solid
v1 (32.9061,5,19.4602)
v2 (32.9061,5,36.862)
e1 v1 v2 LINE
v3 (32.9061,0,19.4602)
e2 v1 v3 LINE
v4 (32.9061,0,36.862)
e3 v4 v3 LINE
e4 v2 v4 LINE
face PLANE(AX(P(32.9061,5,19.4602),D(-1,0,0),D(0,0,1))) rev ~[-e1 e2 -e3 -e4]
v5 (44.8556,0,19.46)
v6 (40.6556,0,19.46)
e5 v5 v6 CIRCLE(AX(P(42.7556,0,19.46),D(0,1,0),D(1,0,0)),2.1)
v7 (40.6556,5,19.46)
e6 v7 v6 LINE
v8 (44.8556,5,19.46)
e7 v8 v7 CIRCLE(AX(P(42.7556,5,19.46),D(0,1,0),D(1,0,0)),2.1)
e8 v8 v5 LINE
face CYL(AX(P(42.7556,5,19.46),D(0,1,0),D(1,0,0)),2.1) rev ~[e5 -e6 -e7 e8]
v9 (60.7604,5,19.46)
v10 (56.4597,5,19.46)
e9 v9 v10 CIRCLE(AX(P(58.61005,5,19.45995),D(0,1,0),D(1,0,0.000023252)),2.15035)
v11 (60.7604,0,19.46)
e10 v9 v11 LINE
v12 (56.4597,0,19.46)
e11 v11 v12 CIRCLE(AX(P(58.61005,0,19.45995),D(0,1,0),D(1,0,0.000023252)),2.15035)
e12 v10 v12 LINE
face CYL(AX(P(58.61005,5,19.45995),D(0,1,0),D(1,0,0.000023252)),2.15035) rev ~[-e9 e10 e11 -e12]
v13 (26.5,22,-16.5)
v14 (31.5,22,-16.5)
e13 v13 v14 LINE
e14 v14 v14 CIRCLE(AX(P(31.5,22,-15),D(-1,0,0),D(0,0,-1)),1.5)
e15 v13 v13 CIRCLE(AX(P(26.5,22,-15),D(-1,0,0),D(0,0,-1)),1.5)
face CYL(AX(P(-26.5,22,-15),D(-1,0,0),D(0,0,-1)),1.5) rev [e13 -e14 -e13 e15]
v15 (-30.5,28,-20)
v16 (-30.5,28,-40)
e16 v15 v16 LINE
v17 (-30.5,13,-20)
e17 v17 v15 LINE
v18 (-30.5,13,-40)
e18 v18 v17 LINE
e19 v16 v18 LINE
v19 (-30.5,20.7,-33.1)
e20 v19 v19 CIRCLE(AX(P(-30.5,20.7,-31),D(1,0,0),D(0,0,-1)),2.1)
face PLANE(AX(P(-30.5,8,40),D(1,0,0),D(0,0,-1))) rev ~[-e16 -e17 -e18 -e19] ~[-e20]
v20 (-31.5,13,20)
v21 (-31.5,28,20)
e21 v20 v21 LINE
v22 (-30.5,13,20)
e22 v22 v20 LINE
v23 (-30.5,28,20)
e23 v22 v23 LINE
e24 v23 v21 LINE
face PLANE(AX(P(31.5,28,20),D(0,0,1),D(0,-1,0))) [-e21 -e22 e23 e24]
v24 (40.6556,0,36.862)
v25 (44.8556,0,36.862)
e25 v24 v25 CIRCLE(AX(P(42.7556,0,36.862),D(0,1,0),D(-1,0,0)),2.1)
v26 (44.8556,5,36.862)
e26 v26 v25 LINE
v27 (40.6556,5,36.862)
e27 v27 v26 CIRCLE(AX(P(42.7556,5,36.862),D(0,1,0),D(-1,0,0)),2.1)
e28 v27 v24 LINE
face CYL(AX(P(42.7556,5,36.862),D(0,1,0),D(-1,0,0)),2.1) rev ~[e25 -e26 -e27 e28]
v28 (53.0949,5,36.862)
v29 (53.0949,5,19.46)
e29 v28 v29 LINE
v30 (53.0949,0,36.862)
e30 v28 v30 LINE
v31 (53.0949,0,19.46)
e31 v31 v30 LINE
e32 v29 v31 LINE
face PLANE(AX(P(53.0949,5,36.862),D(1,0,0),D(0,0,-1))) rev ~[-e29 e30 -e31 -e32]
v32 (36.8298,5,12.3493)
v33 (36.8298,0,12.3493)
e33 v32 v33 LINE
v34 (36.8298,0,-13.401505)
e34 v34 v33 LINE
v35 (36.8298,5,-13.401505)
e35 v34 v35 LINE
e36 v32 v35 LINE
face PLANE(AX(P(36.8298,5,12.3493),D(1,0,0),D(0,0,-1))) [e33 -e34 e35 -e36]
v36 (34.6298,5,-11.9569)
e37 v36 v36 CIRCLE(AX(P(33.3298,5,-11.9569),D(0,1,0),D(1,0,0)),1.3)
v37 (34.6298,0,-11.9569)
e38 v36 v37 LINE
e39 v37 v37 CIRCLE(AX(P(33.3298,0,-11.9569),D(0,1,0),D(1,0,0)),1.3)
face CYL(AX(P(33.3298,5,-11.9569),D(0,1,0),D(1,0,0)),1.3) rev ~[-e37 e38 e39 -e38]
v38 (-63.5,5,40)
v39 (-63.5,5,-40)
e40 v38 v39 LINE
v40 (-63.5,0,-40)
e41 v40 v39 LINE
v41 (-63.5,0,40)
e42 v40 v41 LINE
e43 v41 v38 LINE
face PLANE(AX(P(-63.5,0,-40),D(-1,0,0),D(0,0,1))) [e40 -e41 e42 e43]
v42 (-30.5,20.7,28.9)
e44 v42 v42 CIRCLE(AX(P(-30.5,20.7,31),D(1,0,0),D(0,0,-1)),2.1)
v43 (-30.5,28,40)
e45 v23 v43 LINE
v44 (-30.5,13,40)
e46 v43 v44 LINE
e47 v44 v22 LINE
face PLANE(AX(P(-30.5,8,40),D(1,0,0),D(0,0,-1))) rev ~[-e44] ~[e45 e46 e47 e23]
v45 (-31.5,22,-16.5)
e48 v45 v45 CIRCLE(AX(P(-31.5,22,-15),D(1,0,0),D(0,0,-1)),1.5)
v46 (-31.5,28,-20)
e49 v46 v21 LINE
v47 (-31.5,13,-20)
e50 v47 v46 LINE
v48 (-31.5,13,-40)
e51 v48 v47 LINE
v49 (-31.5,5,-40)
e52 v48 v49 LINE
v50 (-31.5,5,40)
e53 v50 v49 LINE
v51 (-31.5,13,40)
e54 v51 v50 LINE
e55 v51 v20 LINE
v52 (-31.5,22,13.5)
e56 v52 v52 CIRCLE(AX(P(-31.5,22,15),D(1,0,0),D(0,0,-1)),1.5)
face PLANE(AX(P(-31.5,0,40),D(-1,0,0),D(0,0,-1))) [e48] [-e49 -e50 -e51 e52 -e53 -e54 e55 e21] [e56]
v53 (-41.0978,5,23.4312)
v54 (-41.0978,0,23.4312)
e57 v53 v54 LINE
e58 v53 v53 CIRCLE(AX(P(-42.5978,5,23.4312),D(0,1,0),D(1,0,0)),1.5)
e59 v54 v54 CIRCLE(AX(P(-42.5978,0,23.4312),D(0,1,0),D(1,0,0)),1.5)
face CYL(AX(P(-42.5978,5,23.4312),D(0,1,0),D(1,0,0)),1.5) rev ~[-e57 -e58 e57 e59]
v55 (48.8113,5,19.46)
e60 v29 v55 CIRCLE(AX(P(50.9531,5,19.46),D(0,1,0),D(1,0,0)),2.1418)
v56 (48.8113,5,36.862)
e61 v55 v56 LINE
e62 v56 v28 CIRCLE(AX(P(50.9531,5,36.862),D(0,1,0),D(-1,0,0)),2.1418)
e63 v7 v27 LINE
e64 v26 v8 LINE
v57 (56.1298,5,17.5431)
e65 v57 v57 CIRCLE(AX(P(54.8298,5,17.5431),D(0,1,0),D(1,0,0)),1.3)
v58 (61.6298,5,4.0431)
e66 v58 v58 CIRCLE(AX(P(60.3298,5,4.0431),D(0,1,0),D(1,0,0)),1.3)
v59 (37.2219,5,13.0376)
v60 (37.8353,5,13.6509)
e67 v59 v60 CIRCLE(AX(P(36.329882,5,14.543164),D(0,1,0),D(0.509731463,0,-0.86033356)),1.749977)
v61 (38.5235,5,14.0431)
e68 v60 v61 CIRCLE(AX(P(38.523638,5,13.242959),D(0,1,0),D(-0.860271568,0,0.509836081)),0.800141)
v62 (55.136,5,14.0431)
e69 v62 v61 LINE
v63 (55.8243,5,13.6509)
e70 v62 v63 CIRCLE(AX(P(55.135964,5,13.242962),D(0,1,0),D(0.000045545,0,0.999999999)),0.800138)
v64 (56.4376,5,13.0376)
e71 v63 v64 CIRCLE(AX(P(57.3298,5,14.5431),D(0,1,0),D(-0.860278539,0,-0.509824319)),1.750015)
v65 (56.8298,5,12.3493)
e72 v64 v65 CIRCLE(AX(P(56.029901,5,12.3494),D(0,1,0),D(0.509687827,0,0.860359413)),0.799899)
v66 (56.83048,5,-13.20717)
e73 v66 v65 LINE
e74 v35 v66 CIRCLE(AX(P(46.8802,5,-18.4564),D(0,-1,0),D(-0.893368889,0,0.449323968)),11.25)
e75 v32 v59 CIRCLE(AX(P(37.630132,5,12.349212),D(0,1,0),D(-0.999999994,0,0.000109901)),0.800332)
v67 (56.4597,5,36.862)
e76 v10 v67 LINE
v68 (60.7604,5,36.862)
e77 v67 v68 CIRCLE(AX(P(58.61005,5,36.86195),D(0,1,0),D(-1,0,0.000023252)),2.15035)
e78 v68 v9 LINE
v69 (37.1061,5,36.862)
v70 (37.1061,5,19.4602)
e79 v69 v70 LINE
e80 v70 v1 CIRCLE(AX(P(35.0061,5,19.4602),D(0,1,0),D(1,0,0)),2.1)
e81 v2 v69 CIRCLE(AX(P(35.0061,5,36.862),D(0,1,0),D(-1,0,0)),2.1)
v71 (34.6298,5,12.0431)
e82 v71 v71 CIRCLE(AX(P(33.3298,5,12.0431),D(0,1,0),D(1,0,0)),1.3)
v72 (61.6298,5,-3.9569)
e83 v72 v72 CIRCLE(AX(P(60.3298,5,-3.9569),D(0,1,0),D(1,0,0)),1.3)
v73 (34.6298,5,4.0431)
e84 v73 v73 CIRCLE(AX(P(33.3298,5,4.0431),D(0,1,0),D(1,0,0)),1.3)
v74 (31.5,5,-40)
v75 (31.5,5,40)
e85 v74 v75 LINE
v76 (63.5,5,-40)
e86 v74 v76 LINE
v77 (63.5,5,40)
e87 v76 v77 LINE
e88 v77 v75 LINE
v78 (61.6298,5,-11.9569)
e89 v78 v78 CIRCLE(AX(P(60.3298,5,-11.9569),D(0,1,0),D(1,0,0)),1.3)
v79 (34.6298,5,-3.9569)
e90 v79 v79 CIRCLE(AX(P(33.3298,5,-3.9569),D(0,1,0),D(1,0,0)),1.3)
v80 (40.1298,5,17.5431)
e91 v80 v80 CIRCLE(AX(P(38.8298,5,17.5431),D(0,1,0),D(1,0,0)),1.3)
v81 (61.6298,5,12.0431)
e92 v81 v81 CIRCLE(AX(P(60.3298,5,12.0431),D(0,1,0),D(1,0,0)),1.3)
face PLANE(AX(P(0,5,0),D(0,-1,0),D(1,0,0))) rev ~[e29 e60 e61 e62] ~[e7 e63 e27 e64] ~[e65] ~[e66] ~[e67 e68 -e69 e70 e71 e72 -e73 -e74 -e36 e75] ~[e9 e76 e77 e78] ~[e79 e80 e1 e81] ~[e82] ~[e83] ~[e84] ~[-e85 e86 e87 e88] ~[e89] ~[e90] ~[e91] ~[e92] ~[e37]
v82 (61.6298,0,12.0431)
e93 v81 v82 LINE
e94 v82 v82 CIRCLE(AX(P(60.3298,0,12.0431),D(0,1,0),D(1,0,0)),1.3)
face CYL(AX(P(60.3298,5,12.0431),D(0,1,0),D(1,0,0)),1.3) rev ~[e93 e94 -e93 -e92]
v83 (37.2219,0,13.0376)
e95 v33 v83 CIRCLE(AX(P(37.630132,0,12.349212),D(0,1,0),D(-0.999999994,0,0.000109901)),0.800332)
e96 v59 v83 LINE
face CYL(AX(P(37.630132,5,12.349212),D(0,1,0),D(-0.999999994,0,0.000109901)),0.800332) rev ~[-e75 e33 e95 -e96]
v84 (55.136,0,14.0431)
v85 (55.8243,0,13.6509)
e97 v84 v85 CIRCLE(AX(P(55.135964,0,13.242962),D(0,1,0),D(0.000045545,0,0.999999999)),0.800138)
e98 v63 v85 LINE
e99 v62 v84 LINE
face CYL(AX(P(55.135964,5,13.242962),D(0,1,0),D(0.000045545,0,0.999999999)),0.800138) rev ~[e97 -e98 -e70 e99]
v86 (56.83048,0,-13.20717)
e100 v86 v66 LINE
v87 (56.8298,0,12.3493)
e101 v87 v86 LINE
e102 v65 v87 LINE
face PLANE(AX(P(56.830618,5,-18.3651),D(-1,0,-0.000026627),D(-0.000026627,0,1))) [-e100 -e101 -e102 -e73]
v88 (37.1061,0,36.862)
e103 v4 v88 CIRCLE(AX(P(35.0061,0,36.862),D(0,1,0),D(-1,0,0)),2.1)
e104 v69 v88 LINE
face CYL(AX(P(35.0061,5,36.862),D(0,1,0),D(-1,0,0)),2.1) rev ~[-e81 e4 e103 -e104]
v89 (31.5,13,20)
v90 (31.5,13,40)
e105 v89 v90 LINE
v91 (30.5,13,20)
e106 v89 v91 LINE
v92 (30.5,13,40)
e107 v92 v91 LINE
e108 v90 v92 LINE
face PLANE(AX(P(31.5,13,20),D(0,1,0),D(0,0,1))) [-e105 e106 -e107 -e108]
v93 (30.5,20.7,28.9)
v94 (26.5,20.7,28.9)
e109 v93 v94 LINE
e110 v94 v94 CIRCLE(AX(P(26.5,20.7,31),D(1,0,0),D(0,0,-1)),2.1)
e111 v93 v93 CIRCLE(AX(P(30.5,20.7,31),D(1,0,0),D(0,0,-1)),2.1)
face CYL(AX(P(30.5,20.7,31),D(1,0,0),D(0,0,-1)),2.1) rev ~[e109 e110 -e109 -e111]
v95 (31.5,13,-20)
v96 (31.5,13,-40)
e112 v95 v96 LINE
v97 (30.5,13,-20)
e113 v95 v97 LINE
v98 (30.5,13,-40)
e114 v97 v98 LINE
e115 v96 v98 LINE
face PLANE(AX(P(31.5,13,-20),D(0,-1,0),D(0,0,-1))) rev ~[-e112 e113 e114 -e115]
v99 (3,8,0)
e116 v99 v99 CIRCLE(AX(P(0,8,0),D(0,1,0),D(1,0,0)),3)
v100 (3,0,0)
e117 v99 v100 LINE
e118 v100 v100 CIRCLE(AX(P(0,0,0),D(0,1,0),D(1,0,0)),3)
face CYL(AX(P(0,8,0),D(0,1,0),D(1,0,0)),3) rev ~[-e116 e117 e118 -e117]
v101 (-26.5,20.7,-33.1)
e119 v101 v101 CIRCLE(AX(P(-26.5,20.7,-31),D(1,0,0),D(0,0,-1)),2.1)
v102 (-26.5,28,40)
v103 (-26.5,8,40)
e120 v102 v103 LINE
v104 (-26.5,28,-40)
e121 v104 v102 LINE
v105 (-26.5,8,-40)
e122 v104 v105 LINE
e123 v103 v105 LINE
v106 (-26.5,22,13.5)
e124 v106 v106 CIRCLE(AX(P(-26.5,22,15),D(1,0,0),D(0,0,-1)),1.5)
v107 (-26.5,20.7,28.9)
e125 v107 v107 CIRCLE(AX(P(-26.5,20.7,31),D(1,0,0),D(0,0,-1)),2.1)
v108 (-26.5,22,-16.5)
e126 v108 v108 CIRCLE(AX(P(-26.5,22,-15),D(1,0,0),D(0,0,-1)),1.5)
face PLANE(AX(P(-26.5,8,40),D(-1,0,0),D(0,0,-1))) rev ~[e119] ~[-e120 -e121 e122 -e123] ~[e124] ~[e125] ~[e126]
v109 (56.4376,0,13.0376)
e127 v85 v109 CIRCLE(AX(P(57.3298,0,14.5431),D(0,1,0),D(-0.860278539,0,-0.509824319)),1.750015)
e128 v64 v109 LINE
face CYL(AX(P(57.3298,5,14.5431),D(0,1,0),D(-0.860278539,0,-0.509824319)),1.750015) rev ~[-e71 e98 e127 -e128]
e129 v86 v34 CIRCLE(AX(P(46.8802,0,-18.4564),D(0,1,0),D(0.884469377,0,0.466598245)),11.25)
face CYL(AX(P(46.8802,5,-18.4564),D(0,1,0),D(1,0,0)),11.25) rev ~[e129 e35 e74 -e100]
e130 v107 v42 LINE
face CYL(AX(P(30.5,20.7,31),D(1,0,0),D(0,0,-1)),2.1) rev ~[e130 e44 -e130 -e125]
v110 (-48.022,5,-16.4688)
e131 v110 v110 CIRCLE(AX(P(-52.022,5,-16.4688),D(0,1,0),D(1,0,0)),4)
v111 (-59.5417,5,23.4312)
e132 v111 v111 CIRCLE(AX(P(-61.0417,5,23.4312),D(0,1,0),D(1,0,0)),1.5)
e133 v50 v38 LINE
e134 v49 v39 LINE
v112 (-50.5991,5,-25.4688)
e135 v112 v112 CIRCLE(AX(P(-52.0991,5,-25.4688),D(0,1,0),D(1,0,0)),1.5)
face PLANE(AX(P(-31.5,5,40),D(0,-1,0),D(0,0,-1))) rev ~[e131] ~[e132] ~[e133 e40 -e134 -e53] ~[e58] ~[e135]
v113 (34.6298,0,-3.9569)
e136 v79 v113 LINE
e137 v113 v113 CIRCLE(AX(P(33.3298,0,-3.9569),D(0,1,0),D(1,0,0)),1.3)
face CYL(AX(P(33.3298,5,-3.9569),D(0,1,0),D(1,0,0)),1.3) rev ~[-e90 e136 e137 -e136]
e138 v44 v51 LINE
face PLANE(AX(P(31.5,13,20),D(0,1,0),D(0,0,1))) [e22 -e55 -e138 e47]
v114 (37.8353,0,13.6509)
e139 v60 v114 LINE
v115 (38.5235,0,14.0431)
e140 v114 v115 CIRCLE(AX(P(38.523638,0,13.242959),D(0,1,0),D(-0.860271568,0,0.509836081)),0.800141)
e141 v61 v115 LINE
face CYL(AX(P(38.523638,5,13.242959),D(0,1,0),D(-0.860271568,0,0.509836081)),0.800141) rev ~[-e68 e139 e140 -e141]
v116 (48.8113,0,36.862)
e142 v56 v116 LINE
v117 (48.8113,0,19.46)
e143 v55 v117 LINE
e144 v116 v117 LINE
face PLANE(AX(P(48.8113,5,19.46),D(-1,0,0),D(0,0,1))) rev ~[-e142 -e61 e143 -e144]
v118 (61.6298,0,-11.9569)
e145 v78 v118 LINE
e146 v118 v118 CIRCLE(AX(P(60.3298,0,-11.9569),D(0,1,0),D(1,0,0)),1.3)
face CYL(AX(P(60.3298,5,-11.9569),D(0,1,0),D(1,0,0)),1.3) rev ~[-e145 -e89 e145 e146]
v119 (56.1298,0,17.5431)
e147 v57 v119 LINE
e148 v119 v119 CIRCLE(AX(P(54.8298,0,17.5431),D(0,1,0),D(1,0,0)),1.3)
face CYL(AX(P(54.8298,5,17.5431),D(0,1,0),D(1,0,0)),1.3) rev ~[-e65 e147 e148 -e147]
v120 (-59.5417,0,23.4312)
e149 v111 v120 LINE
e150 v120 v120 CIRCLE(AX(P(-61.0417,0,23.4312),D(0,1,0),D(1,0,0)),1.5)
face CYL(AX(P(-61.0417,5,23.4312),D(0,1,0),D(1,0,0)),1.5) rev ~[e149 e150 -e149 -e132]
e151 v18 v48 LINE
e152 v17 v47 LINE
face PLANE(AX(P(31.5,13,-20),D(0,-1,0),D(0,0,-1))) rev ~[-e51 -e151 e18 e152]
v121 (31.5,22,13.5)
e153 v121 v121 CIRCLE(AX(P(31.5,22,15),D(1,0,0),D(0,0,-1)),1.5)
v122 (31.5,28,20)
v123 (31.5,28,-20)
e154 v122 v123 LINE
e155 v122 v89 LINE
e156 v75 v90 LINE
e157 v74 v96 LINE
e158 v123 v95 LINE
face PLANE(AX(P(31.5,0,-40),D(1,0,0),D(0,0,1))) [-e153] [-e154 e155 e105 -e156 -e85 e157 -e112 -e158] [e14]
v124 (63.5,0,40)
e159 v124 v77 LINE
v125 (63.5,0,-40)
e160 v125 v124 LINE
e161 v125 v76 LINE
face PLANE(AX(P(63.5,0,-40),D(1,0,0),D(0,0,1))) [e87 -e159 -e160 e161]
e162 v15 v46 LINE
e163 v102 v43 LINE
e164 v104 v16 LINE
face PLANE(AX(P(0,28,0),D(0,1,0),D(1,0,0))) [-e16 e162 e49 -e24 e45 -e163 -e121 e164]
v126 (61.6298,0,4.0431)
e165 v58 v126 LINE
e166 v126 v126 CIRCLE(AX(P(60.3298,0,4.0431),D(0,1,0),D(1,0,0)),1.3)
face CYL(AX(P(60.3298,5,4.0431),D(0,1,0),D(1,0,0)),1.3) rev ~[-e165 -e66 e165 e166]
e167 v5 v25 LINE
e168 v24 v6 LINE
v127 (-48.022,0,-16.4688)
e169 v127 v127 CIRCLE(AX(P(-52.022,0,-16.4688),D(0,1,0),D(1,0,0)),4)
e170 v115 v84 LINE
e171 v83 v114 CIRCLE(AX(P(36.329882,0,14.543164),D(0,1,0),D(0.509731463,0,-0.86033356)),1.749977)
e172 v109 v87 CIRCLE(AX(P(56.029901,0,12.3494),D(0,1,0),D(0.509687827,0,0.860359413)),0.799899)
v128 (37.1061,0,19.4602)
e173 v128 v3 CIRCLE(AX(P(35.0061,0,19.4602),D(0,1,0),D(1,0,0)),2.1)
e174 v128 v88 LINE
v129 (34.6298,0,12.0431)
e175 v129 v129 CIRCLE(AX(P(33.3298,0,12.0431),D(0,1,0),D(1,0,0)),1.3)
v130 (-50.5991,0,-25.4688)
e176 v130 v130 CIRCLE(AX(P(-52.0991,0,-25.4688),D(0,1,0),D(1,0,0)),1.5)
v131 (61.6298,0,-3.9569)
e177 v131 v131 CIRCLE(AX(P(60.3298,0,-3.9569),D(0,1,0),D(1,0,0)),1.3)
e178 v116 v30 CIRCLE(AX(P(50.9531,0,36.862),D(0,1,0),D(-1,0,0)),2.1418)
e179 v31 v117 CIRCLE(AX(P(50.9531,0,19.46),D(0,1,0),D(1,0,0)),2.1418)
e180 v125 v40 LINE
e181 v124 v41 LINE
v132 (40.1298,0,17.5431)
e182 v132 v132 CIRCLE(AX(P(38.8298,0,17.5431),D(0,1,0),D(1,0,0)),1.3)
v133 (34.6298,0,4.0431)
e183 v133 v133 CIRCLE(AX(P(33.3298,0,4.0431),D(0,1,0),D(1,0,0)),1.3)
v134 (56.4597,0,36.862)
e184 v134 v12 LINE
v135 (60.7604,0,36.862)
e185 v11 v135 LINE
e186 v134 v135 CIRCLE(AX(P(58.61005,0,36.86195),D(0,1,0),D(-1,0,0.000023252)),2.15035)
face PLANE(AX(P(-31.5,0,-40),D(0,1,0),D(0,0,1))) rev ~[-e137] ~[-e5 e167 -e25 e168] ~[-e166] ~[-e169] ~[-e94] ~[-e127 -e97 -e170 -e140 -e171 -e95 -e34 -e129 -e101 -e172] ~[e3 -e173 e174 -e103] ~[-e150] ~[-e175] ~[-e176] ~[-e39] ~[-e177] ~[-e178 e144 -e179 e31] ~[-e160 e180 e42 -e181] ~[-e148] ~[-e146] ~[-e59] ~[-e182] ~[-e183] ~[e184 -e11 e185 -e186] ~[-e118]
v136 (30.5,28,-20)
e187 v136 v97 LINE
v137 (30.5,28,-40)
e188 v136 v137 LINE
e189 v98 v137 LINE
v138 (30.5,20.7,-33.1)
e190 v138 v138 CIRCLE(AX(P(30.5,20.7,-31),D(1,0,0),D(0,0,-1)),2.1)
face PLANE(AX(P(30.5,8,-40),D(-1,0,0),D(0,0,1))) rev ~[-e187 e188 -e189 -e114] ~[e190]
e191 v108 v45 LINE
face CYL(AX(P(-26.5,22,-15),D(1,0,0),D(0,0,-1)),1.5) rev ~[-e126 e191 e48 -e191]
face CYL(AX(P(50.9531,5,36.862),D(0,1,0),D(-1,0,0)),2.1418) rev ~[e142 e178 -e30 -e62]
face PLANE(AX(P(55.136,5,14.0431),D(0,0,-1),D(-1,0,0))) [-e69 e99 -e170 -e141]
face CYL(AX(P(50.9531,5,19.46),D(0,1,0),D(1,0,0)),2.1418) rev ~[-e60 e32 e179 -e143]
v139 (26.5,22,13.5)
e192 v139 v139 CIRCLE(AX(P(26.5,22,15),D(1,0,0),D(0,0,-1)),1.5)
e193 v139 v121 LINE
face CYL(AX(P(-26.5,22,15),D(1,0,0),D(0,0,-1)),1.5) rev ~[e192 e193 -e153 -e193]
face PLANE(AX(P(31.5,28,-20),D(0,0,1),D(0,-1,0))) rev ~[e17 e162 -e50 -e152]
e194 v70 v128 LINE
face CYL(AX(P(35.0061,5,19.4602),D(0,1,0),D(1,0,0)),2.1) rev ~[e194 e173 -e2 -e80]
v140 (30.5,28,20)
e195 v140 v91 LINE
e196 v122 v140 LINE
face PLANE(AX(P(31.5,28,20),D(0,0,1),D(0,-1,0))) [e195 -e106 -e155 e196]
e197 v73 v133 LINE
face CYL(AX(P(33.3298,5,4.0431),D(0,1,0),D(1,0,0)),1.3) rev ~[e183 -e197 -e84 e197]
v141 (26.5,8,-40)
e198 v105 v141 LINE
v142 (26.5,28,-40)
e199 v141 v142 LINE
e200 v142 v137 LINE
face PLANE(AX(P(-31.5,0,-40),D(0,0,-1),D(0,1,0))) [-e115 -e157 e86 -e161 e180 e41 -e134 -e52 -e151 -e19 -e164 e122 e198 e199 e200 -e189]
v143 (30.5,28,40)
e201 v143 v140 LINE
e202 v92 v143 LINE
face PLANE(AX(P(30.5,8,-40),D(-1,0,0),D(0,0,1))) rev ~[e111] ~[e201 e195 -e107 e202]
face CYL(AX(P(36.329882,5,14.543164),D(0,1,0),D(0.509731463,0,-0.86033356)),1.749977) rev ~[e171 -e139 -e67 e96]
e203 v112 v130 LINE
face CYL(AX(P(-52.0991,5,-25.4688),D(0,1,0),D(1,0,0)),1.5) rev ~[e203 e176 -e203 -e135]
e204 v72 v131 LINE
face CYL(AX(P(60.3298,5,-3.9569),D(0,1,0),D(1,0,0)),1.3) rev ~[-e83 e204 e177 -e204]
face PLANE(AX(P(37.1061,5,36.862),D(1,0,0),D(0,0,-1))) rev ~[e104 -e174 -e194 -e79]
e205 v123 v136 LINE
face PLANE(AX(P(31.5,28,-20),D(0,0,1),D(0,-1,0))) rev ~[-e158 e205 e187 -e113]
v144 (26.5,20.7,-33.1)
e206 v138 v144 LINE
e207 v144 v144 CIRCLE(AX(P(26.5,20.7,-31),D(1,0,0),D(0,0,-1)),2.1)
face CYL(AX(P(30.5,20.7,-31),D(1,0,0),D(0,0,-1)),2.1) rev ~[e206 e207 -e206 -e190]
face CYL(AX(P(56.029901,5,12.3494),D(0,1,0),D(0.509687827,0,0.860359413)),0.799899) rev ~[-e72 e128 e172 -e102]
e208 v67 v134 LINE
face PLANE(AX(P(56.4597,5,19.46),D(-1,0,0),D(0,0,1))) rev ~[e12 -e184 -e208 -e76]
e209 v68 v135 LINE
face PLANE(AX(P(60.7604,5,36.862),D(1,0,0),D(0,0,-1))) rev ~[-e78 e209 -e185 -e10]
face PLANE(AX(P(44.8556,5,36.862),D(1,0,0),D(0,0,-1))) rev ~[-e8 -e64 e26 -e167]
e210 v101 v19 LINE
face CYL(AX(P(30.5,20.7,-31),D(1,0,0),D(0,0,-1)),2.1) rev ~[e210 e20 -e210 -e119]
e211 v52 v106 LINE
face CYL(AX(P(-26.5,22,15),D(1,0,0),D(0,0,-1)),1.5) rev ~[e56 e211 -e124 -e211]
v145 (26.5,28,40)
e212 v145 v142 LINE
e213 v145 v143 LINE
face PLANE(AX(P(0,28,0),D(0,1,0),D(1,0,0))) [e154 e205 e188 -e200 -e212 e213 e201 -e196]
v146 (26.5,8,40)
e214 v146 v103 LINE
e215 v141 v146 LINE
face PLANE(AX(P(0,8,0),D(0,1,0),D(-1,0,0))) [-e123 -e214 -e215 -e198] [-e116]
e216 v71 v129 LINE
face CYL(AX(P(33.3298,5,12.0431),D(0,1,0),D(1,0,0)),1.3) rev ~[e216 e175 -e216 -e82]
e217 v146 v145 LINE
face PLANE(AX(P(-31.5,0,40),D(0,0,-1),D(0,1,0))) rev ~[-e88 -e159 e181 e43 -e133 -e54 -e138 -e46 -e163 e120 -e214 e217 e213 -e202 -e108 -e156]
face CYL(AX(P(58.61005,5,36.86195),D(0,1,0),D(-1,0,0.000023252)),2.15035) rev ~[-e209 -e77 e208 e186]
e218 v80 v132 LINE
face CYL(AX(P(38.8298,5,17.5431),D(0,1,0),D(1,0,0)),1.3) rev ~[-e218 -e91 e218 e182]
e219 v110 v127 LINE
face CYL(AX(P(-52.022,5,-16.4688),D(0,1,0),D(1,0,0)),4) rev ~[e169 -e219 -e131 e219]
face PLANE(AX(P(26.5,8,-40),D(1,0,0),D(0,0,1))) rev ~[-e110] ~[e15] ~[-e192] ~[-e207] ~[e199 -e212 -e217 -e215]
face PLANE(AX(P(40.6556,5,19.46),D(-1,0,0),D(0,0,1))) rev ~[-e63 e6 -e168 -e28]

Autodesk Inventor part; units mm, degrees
ref_plane "YZ Plane" through (0, 0, 0) normal (1, 0, 0) x (0, 1, 0)
ref_plane "XZ Plane" through (0, 0, 0) normal (0, 1, 0) x (-1, 0, 0)
ref_plane "XY Plane" through (0, 0, 0) normal (0, 0, 1) x (1, 0, 0)
sketch "Эскиз1" plane through (0, 0, 0) normal (0, 1, 0) x (-1, 0, 0)
  line L0 (-31.5, 40) -> (31.5, 40)
  line L1 (31.5, 40) -> (31.5, -40)
  line L2 (31.5, -40) -> (-31.5, -40)
  line L3 (-31.5, -40) -> (-31.5, 40)
  line L4 (-31.5, 40) -> (31.5, -40) construction
  line L5 (31.5, 40) -> (-31.5, -40) construction
  point P0 (0, 0)
  dimension "d0" = 63
  dimension "d1" = 80
extrude "Выдавливание1" add sketch "Эскиз1" along normal blind 8
sketch "Эскиз2" plane through (0, 8, 0) normal (0, 1, 0) x (1, 0, 0)
  line L0 (-31.5, -40) -> (31.5, -40) projected
  line L1 (31.5, 40) -> (-31.5, 40) projected
  line L2 (-31.5, -40) -> (-26.5, -40)
  line L3 (-26.5, -40) -> (-26.5, 40)
  line L4 (-26.5, 40) -> (-31.5, 40)
  line L5 (-31.5, 40) -> (-31.5, -40)
  line L6 (31.5, -40) -> (31.5, 40) projected
  line L7 (31.5, 40) -> (26.5, 40)
  line L8 (26.5, 40) -> (26.5, -40)
  line L9 (26.5, -40) -> (31.5, -40)
  line L10 (31.5, -40) -> (31.5, 40)
  point P0 (0, 0)
  dimension "d4" = 5
  dimension "d5" = 5
extrude "Выдавливание2" add sketch "Эскиз2" along normal blind 20 contours L5 L1 L3 L0 | L8 L1 L6 L0
sketch "Эскиз3" plane through (-26.5, 8, 40) normal (1, 0, 0) x (0, 0, -1)
  line L0 (0, 0) -> (0, 20) projected
  line L1 (0, 0) -> (25, 0)
  line L2 (25, 0) -> (25, 14)
  line L3 (25, 14) -> (0, 14)
  line L4 (0, 14) -> (0, 0)
  circle A0 centre (25, 14) radius 1.5
  line L5 (80, 20) -> (0, 20) projected
  line L6 (40, 20) -> (40, 22.577)
  circle A1 centre (55, 14) radius 1.5
  point P0 (40, -8)
  dimension "d8" = 25
  dimension "d9" = 14
  dimension "d10" = 3
extrude "Выдавливание3" cut sketch "Эскиз3" along normal blind 63.5 and the other way blind 5 contours A0 L2 L3 | L3 L2 A0 | A1
sketch "Эскиз4" plane through (0, 0, 0) normal (0, -1, 0) x (1, 0, 0)
  line L0 (31.5, -40) -> (31.5, 40) projected
  line L1 (31.5, -40) -> (63.5, -40)
  line L2 (63.5, -40) -> (63.5, 40)
  line L3 (63.5, 40) -> (31.5, 40)
  line L4 (31.5, 40) -> (31.5, -40)
  point P0 (0, 0)
  dimension "d15" = 32
  dimension "d16" = 80
extrude "Выдавливание4" add sketch "Эскиз4" against normal blind 5
sketch "Эскиз5" plane through (0, 5, 0) normal (0, 1, 0) x (1, 0, 0)
  line L0 (34.2298, 0.6569) -> (31.9298, 0.6569)
  line L1 (34.2298, 0.6569) -> (34.2298, -0.7431)
  line L2 (31.9298, -0.7431) -> (34.2298, -0.7431)
  line L3 (31.9298, -7.3431) -> (31.9298, -0.7431)
  line L4 (34.2298, -7.3431) -> (31.9298, -7.3431)
  circle A0 centre (46.8802, 18.4564) radius 9.15
  circle A1 centre (46.8298, 18.4569) radius 1.5
  circle A2 centre (54.8298, -17.5431) radius 1.3
  circle A3 centre (60.3298, -4.0431) radius 1.3
  circle A4 centre (60.3298, -12.0431) radius 1.3
  circle A5 centre (60.3298, 3.9569) radius 1.3
  circle A6 centre (60.3298, 11.9569) radius 1.3
  circle A7 centre (38.8298, -17.5431) radius 1.3
  circle A8 centre (33.3298, -4.0431) radius 1.3
  circle A9 centre (33.3298, -12.0431) radius 1.3
  circle A10 centre (33.3298, 3.9569) radius 1.3
  circle A11 centre (33.3298, 11.9569) radius 1.3
  line L5 (46.7298, 29.4767) -> (46.7298, 28.9365)
  line L6 (39.8298, 29.4767) -> (46.7298, 29.4767)
  arc A12 (39.8298, 29.4767) -> (39.0798, 29.4255) centre (39.8298, 23.9569) ccw
  line L7 (39.0798, 26.9569) -> (39.0798, 29.4255)
  arc A13 (37.3298, 25.2069) -> (39.0798, 26.9569) centre (37.3298, 26.9569) ccw
  line L8 (36.8298, 25.2069) -> (37.3298, 25.2069)
  line L9 (36.8298, -12.3493) -> (36.8298, 25.2069)
  arc A14 (36.8298, -12.3493) -> (37.2219, -13.0376) centre (37.6298, -12.3493) ccw
  arc A15 (37.2219, -13.0376) -> (37.8353, -13.6509) centre (36.3298, -14.5431) ccw
  arc A16 (37.8353, -13.6509) -> (38.5235, -14.0431) centre (38.5235, -13.2431) ccw
  line L10 (55.136, -14.0431) -> (38.5235, -14.0431)
  arc A17 (55.136, -14.0431) -> (55.8243, -13.6509) centre (55.136, -13.2431) ccw
  arc A18 (56.4376, -13.0376) -> (55.8243, -13.6509) centre (57.3298, -14.5431) ccw
  arc A19 (55.8243, -13.6509) -> (56.4376, -13.0376) centre (57.3298, -14.5431) ccw
  line L11 (35.5069, 25.2069) -> (36.8298, 25.2069)
  arc A20 (35.5069, 25.2069) -> (35.3298, 23.9569) centre (39.8376, 23.9558) ccw
  line L12 (35.3298, 23.9569) -> (35.3298, 16.4569)
  line L13 (34.2298, 16.4569) -> (35.3298, 16.4569)
  line L14 (34.2298, 15.2569) -> (34.2298, 16.4569)
  line L15 (31.9298, 15.2569) -> (34.2298, 15.2569)
  line L16 (31.9298, 8.6569) -> (31.9298, 15.2569)
  line L17 (34.2298, 8.6569) -> (31.9298, 8.6569)
  line L18 (34.2298, 7.2569) -> (34.2298, 8.6569)
  line L19 (31.9298, 7.2569) -> (34.2298, 7.2569)
  line L20 (31.9298, 0.6569) -> (31.9298, 7.2569)
  line L21 (34.2298, 0.6569) -> (31.9298, 0.6569)
  line L22 (34.2298, -0.7431) -> (34.2298, 0.6569)
  line L23 (31.9298, -0.7431) -> (34.2298, -0.7431)
  line L24 (31.9298, -7.3431) -> (31.9298, -0.7431)
  line L25 (34.2298, -7.3431) -> (31.9298, -7.3431)
  line L26 (34.2298, -8.7431) -> (34.2298, -7.3431)
  line L27 (31.9298, -8.7431) -> (34.2298, -8.7431)
  line L28 (31.9298, -15.3431) -> (31.9298, -8.7431)
  line L29 (34.2298, -15.3431) -> (31.9298, -15.3431)
  line L30 (34.2298, -16.5629) -> (34.2298, -15.3431)
  arc A21 (34.2298, -16.5629) -> (34.31, -16.6431) centre (35.3298, -15.5431) ccw
  line L31 (35.5298, -16.6431) -> (34.31, -16.6431)
  line L32 (35.5298, -18.9431) -> (35.5298, -16.6431)
  line L33 (42.1298, -18.9431) -> (35.5298, -18.9431)
  line L34 (42.1298, -16.6431) -> (42.1298, -18.9431)
  line L35 (51.5298, -16.6431) -> (42.1298, -16.6431)
  line L36 (51.5298, -18.9431) -> (51.5298, -16.6431)
  line L37 (58.1298, -18.9431) -> (51.5298, -18.9431)
  line L38 (58.1298, -16.6431) -> (58.1298, -18.9431)
  line L39 (59.3496, -16.6431) -> (58.1298, -16.6431)
  arc A22 (59.3496, -16.6431) -> (59.4298, -16.5629) centre (58.3298, -15.5431) ccw
  line L40 (59.4298, -15.3431) -> (59.4298, -16.5629)
  line L41 (61.7298, -15.3431) -> (59.4298, -15.3431)
  line L42 (61.7298, -8.7431) -> (61.7298, -15.3431)
  line L43 (59.4298, -8.7431) -> (61.7298, -8.7431)
  line L44 (59.4298, -7.3431) -> (59.4298, -8.7431)
  line L45 (61.7298, -7.3431) -> (59.4298, -7.3431)
  line L46 (61.7298, -0.7431) -> (61.7298, -7.3431)
  line L47 (59.4298, -0.7431) -> (61.7298, -0.7431)
  line L48 (59.4298, 0.6569) -> (59.4298, -0.7431)
  line L49 (61.7298, 0.6569) -> (59.4298, 0.6569)
  line L50 (61.7298, 7.2569) -> (61.7298, 0.6569)
  line L51 (59.4298, 7.2569) -> (61.7298, 7.2569)
  line L52 (59.4298, 8.6569) -> (59.4298, 7.2569)
  line L53 (61.7298, 8.6569) -> (59.4298, 8.6569)
  line L54 (61.7298, 15.2568) -> (61.7298, 8.6569)
  line L55 (59.4305, 15.2569) -> (61.7298, 15.2568)
  line L56 (59.4306, 16.4569) -> (59.4305, 15.2569)
  line L57 (58.3306, 16.4569) -> (59.4306, 16.4569)
  line L58 (58.3308, 23.9569) -> (58.3306, 16.4569)
  arc A23 (58.3308, 23.9569) -> (58.1537, 25.2069) centre (53.8229, 23.9559) ccw
  line L59 (56.8308, 25.2069) -> (58.1537, 25.2069)
  line L60 (56.3308, 25.2069) -> (56.8308, 25.2069)
  arc A24 (54.5808, 26.957) -> (56.3308, 25.2069) centre (56.3308, 26.9569) ccw
  line L61 (54.5809, 29.4256) -> (54.5808, 26.957)
  arc A25 (54.5809, 29.4256) -> (53.8309, 29.4768) centre (53.8308, 23.957) ccw
  line L62 (46.9309, 29.477) -> (53.8309, 29.4768)
  line L63 (46.9309, 28.9368) -> (46.9309, 29.477)
  arc A26 (37.8353, -13.6509) -> (37.2219, -13.0376) centre (36.3298, -14.5431) ccw
  arc A27 (56.4376, -13.0376) -> (56.8298, -12.3493) centre (56.0298, -12.3493) ccw
  line L64 (56.8308, 25.2069) -> (56.8298, -12.3493)
  line L65 (56.0298, 18.3651) -> (56.8306, 18.3651)
  line L66 (37.7307, 18.3656) -> (36.8298, 18.3657)
  point P0 (0, 0)
extrude "Выдавливание5" cut sketch "Эскиз5" against normal through all contours L66 A0 L65 L64 A27 A18 A17 L10 A16 A26 A14 L9 | A0 | A26 A15 | A19 A18 | A1 | A2 | A3 | A4 | A5 | A6 | A7 | A8 | A9 | A10 | A11
sketch "Эскиз6" plane through (0, 5, 0) normal (0, 1, 0) x (1, 0, 0)
  arc A0 (56.0298, 18.3651) -> (37.7307, 18.3656) centre (46.8802, 18.4564) ccw projected
  circle A1 centre (46.8802, 18.4564) radius 11.25
  point P0 (0, 0)
  dimension "d21" = 22.5
extrude "Выдавливание6" cut sketch "Эскиз6" against normal through all
sketch "Эскиз7" plane through (0, 8, 0) normal (0, 1, 0) x (1, 0, 0)
  circle A0 centre (0, 0) radius 3
  dimension "d24" = 6
extrude "Выдавливание7" cut sketch "Эскиз7" against normal through all
sketch "Эскиз8" plane through (0, 5, 0) normal (0, 1, 0) x (1, 0, 0)
  line L0 (35.0061, -36.862) -> (35.0061, -19.4602) construction
  line L1 (37.1061, -36.862) -> (37.1061, -19.4602)
  line L2 (32.9061, -19.4602) -> (32.9061, -36.862)
  arc A0 (32.9061, -36.862) -> (37.1061, -36.862) centre (35.0061, -36.862) ccw
  arc A1 (37.1061, -19.4602) -> (32.9061, -19.4602) centre (35.0061, -19.4602) ccw
  line L3 (42.7556, -36.862) -> (42.7556, -19.46) construction
  line L4 (44.8556, -36.862) -> (44.8556, -19.46)
  line L5 (40.6556, -19.46) -> (40.6556, -36.862)
  arc A2 (40.6556, -36.862) -> (44.8556, -36.862) centre (42.7556, -36.862) ccw
  arc A3 (44.8556, -19.46) -> (40.6556, -19.46) centre (42.7556, -19.46) ccw
  line L6 (50.9531, -36.862) -> (50.9531, -19.46) construction
  line L7 (53.0949, -36.862) -> (53.0949, -19.46)
  line L8 (48.8113, -19.46) -> (48.8113, -36.862)
  arc A4 (48.8113, -36.862) -> (53.0949, -36.862) centre (50.9531, -36.862) ccw
  arc A5 (53.0949, -19.46) -> (48.8113, -19.46) centre (50.9531, -19.46) ccw
  line L9 (58.61, -36.862) -> (58.61, -19.46) construction
  line L10 (60.7604, -36.862) -> (60.7604, -19.46)
  line L11 (56.4597, -19.46) -> (56.4597, -36.862)
  arc A6 (56.4597, -36.862) -> (60.7604, -36.862) centre (58.61, -36.862) ccw
  arc A7 (60.7604, -19.46) -> (56.4597, -19.46) centre (58.61, -19.46) ccw
  point P0 (0, 0)
  point P1 (35.0061, -28.1611)
  point P2 (42.7556, -28.161)
  point P3 (35.0061, -38.962)
  point P4 (42.7556, -38.962)
  point P5 (50.9531, -28.161)
  point P6 (58.61, -28.161)
  dimension "d27" = 4.2
  dimension "d28" = 4.2
  dimension "d29" = 17.402
extrude "Выдавливание8" cut sketch "Эскиз8" against normal blind 19.25
sketch "Эскиз9" plane through (31.5, 28, 40) normal (1, 0, 0) x (0, 0, -1)
  line L0 (0, 0) -> (20, 0)
  line L1 (20, 0) -> (20, -15)
  line L2 (20, -15) -> (0, -15)
  line L3 (0, -15) -> (0, 0)
  line L4 (80, 0) -> (60, 0)
  line L5 (60, 0) -> (60, -15)
  line L6 (60, -15) -> (80, -15)
  line L7 (80, -15) -> (80, 0)
  point P0 (40, -28)
  dimension "d32" = 20
  dimension "d33" = 15
  dimension "d34" = 20
  dimension "d35" = 15
extrude "Выдавливание9" cut sketch "Эскиз9" against normal blind 71.25
sketch "Эскиз10" plane through (-31.5, 0, -40) normal (-1, 0, 0) x (0, 0, 1)
  line L0 (0, 0) -> (0, 13) projected
  line L1 (80, 5) -> (0, 5) projected
  line L2 (0, 0) -> (80, 0)
  line L3 (80, 0) -> (80, 5)
  line L4 (80, 5) -> (0, 5)
  line L5 (0, 5) -> (0, 0)
  point P0 (40, 0)
extrude "Выдавливание10" add sketch "Эскиз10" along normal blind 32
sketch "Эскиз12" plane through (-31.5, 5, 40) normal (0, 1, 0) x (1, 0, 0)
  circle A0 centre (-20.5991, 65.4688) radius 1.5
  circle A1 centre (-11.0978, 16.5688) radius 1.5
  circle A2 centre (-29.5417, 16.5688) radius 1.5
  line L0 (-32.0417, 43.6688) -> (-32.0417, 14.0688)
  line L1 (-8.5978, 14.0688) -> (-32.0417, 14.0688)
  line L2 (-8.5978, 14.0688) -> (-8.5978, 51.7665)
  line L3 (-8.5978, 51.7665) -> (-5.622, 51.7665)
  line L4 (-5.622, 51.7665) -> (-5.622, 61.4688)
  line L5 (-5.622, 61.4688) -> (-16.5991, 61.4688)
  line L6 (-16.5991, 61.4688) -> (-16.5991, 69.4688)
  line L7 (-16.5991, 69.4688) -> (-24.5991, 69.4688)
  line L8 (-24.5991, 69.4688) -> (-24.5991, 61.4688)
  line L9 (-24.5991, 61.4688) -> (-35.422, 61.4688)
  line L10 (-35.422, 61.4688) -> (-40.422, 61.4688)
  line L11 (-40.422, 61.4688) -> (-40.422, 48.6688)
  line L12 (-35.422, 43.6688) -> (-40.422, 48.6688)
  line L13 (-35.422, 43.6688) -> (-32.0417, 43.6688)
  circle A3 centre (-20.522, 56.4688) radius 4
  line L14 (-10.4717, 49.3901) -> (-10.522, 49.2688)
  line L15 (-10.522, 49.2688) -> (-10.522, 25.6626)
  arc A4 (-10.9141, 24.9743) -> (-10.522, 25.6626) centre (-11.322, 25.6626) ccw
  arc A5 (-10.9141, 24.9743) -> (-11.5275, 24.361) centre (-10.022, 23.4688) ccw
  arc A6 (-12.2157, 23.9688) -> (-11.5275, 24.361) centre (-12.2157, 24.7688) ccw
  line L16 (-12.2157, 23.9688) -> (-28.8282, 23.9688)
  arc A7 (-29.5165, 24.361) -> (-28.8282, 23.9688) centre (-28.8282, 24.7688) ccw
  arc A8 (-29.5165, 24.361) -> (-30.1298, 24.9743) centre (-31.022, 23.4688) ccw
  arc A9 (-30.522, 25.6626) -> (-30.1298, 24.9743) centre (-29.722, 25.6626) ccw
  line L17 (-30.522, 25.6626) -> (-30.522, 44.6671)
  arc A10 (-30.522, 44.6671) -> (-30.5274, 44.9956) centre (-40.522, 44.6671) ccw
  line L18 (-26.1915, 51.4688) -> (-30.5274, 44.9956)
  line L19 (-26.1915, 51.4688) -> (-11.8607, 51.4688)
  line L20 (-10.4717, 49.3901) -> (-11.8607, 51.4688)
  circle A11 centre (-34.022, 49.9688) radius 1.3
  circle A12 centre (-28.522, 20.4688) radius 1.3
  circle A13 centre (-12.522, 20.4688) radius 1.3
  line L21 (-7.922, 45.2688) -> (-5.622, 45.2688)
  line L22 (-7.922, 46.6688) -> (-7.922, 45.2688)
  line L23 (-5.622, 46.6688) -> (-7.922, 46.6688)
  line L24 (-5.622, 51.7665) -> (-5.622, 46.6688)
  line L25 (-8.5978, 51.7665) -> (-5.622, 51.7665)
  line L26 (-8.5978, 19.0688) -> (-8.5978, 51.7665)
  line L27 (-5.622, 19.0688) -> (-8.5978, 19.0688)
  line L28 (-5.622, 45.2688) -> (-5.622, 19.0688)
  circle A14 centre (-7.022, 41.9688) radius 1.3
  circle A15 centre (-7.022, 25.9688) radius 1.3
  circle A16 centre (-7.022, 33.9688) radius 1.3
  circle A17 centre (-7.022, 49.9688) radius 1.3
  circle A18 centre (-34.022, 41.9688) radius 1.3
  circle A19 centre (-34.022, 25.9688) radius 1.3
  circle A20 centre (-34.022, 33.9688) radius 1.3
  line L29 (-32.0417, 19.0688) -> (-35.422, 19.0688)
  line L30 (-32.0417, 43.6688) -> (-32.0417, 19.0688)
  line L31 (-35.422, 43.6688) -> (-32.0417, 43.6688)
  line L32 (-35.422, 19.0688) -> (-35.422, 43.6688)
  line L33 (-35.422, 61.4688) -> (-35.422, 66.4688)
  line L34 (-35.422, 66.4688) -> (-40.422, 66.4688)
  line L35 (-40.422, 66.4688) -> (-40.422, 61.4688)
  line L36 (-35.422, 61.4688) -> (-40.422, 61.4688)
  line L37 (-35.422, 66.4688) -> (-40.422, 66.4688)
  line L38 (-35.422, 66.4688) -> (-40.422, 66.4688)
  line L39 (-35.422, 66.4688) -> (-35.422, 68.6688)
  line L40 (-35.422, 68.6688) -> (-40.422, 68.6688)
  line L41 (-40.422, 68.6688) -> (-40.422, 66.4688)
  point P0 (31.5, 40)
extrude "Выдавливание12" cut sketch "Эскиз12" against normal blind 10 contours A0 | A1 | A2 | A3
sketch "Эскиз13" plane through (-26.5, 8, 40) normal (1, 0, 0) x (0, 0, -1)
  line L0 (20, 20) -> (60, 20) projected
  line L1 (0, 0) -> (0, 5) projected
  line L2 (20, 20) -> (0, 20)
  line L3 (0, 20) -> (0, 5)
  line L4 (0, 5) -> (20, 5)
  line L5 (20, 5) -> (20, 20)
  line L6 (80, 5) -> (60, 5)
  line L7 (60, 5) -> (60, 20)
  line L8 (60, 20) -> (80, 20)
  line L9 (80, 20) -> (80, 5)
  point P0 (40, -8)
  dimension "d44" = 20
extrude "Выдавливание13" add sketch "Эскиз13" against normal blind 4
sketch "Эскиз14" plane through (26.5, 8, -40) normal (-1, 0, 0) x (0, 0, 1)
  line L0 (20, 20) -> (20, 5) projected
  line L1 (80, 20) -> (0, 20) projected
  line L2 (20, 5) -> (0, 5)
  line L3 (0, 5) -> (0, 20)
  line L4 (0, 20) -> (20, 20)
  line L5 (20, 20) -> (20, 5)
  line L6 (80, 5) -> (60, 5) projected
  line L7 (80, 5) -> (80, 20) projected
  line L8 (60, 5) -> (80, 5)
  line L9 (80, 5) -> (80, 20)
  line L10 (80, 20) -> (60, 20)
  line L11 (60, 20) -> (60, 5)
  point P0 (40, -8)
extrude "Выдавливание14" add sketch "Эскиз14" against normal blind 4
sketch "Эскиз15" plane through (30.5, 8, -40) normal (1, 0, 0) x (0, 0, -1)
  circle A0 centre (-71, 12.7) radius 2.1
  circle A1 centre (-9, 12.7) radius 2.1
  line L0 (-80, 20) -> (-80, 5) projected
  line L1 (0, 5) -> (0, 20) projected
  line L2 (-80, -3) -> (0, -3) projected
  point P0 (-40, -8)
  dimension "d49" = 4.2
  dimension "d50" = 4.2
  dimension "d51" = 9
  dimension "d52" = 9
  dimension "d53" = 15.7
  dimension "d54" = 15.7
extrude "Выдавливание15" cut sketch "Эскиз15" against normal blind 100
properties part number "База" material "Пластик АБС"
